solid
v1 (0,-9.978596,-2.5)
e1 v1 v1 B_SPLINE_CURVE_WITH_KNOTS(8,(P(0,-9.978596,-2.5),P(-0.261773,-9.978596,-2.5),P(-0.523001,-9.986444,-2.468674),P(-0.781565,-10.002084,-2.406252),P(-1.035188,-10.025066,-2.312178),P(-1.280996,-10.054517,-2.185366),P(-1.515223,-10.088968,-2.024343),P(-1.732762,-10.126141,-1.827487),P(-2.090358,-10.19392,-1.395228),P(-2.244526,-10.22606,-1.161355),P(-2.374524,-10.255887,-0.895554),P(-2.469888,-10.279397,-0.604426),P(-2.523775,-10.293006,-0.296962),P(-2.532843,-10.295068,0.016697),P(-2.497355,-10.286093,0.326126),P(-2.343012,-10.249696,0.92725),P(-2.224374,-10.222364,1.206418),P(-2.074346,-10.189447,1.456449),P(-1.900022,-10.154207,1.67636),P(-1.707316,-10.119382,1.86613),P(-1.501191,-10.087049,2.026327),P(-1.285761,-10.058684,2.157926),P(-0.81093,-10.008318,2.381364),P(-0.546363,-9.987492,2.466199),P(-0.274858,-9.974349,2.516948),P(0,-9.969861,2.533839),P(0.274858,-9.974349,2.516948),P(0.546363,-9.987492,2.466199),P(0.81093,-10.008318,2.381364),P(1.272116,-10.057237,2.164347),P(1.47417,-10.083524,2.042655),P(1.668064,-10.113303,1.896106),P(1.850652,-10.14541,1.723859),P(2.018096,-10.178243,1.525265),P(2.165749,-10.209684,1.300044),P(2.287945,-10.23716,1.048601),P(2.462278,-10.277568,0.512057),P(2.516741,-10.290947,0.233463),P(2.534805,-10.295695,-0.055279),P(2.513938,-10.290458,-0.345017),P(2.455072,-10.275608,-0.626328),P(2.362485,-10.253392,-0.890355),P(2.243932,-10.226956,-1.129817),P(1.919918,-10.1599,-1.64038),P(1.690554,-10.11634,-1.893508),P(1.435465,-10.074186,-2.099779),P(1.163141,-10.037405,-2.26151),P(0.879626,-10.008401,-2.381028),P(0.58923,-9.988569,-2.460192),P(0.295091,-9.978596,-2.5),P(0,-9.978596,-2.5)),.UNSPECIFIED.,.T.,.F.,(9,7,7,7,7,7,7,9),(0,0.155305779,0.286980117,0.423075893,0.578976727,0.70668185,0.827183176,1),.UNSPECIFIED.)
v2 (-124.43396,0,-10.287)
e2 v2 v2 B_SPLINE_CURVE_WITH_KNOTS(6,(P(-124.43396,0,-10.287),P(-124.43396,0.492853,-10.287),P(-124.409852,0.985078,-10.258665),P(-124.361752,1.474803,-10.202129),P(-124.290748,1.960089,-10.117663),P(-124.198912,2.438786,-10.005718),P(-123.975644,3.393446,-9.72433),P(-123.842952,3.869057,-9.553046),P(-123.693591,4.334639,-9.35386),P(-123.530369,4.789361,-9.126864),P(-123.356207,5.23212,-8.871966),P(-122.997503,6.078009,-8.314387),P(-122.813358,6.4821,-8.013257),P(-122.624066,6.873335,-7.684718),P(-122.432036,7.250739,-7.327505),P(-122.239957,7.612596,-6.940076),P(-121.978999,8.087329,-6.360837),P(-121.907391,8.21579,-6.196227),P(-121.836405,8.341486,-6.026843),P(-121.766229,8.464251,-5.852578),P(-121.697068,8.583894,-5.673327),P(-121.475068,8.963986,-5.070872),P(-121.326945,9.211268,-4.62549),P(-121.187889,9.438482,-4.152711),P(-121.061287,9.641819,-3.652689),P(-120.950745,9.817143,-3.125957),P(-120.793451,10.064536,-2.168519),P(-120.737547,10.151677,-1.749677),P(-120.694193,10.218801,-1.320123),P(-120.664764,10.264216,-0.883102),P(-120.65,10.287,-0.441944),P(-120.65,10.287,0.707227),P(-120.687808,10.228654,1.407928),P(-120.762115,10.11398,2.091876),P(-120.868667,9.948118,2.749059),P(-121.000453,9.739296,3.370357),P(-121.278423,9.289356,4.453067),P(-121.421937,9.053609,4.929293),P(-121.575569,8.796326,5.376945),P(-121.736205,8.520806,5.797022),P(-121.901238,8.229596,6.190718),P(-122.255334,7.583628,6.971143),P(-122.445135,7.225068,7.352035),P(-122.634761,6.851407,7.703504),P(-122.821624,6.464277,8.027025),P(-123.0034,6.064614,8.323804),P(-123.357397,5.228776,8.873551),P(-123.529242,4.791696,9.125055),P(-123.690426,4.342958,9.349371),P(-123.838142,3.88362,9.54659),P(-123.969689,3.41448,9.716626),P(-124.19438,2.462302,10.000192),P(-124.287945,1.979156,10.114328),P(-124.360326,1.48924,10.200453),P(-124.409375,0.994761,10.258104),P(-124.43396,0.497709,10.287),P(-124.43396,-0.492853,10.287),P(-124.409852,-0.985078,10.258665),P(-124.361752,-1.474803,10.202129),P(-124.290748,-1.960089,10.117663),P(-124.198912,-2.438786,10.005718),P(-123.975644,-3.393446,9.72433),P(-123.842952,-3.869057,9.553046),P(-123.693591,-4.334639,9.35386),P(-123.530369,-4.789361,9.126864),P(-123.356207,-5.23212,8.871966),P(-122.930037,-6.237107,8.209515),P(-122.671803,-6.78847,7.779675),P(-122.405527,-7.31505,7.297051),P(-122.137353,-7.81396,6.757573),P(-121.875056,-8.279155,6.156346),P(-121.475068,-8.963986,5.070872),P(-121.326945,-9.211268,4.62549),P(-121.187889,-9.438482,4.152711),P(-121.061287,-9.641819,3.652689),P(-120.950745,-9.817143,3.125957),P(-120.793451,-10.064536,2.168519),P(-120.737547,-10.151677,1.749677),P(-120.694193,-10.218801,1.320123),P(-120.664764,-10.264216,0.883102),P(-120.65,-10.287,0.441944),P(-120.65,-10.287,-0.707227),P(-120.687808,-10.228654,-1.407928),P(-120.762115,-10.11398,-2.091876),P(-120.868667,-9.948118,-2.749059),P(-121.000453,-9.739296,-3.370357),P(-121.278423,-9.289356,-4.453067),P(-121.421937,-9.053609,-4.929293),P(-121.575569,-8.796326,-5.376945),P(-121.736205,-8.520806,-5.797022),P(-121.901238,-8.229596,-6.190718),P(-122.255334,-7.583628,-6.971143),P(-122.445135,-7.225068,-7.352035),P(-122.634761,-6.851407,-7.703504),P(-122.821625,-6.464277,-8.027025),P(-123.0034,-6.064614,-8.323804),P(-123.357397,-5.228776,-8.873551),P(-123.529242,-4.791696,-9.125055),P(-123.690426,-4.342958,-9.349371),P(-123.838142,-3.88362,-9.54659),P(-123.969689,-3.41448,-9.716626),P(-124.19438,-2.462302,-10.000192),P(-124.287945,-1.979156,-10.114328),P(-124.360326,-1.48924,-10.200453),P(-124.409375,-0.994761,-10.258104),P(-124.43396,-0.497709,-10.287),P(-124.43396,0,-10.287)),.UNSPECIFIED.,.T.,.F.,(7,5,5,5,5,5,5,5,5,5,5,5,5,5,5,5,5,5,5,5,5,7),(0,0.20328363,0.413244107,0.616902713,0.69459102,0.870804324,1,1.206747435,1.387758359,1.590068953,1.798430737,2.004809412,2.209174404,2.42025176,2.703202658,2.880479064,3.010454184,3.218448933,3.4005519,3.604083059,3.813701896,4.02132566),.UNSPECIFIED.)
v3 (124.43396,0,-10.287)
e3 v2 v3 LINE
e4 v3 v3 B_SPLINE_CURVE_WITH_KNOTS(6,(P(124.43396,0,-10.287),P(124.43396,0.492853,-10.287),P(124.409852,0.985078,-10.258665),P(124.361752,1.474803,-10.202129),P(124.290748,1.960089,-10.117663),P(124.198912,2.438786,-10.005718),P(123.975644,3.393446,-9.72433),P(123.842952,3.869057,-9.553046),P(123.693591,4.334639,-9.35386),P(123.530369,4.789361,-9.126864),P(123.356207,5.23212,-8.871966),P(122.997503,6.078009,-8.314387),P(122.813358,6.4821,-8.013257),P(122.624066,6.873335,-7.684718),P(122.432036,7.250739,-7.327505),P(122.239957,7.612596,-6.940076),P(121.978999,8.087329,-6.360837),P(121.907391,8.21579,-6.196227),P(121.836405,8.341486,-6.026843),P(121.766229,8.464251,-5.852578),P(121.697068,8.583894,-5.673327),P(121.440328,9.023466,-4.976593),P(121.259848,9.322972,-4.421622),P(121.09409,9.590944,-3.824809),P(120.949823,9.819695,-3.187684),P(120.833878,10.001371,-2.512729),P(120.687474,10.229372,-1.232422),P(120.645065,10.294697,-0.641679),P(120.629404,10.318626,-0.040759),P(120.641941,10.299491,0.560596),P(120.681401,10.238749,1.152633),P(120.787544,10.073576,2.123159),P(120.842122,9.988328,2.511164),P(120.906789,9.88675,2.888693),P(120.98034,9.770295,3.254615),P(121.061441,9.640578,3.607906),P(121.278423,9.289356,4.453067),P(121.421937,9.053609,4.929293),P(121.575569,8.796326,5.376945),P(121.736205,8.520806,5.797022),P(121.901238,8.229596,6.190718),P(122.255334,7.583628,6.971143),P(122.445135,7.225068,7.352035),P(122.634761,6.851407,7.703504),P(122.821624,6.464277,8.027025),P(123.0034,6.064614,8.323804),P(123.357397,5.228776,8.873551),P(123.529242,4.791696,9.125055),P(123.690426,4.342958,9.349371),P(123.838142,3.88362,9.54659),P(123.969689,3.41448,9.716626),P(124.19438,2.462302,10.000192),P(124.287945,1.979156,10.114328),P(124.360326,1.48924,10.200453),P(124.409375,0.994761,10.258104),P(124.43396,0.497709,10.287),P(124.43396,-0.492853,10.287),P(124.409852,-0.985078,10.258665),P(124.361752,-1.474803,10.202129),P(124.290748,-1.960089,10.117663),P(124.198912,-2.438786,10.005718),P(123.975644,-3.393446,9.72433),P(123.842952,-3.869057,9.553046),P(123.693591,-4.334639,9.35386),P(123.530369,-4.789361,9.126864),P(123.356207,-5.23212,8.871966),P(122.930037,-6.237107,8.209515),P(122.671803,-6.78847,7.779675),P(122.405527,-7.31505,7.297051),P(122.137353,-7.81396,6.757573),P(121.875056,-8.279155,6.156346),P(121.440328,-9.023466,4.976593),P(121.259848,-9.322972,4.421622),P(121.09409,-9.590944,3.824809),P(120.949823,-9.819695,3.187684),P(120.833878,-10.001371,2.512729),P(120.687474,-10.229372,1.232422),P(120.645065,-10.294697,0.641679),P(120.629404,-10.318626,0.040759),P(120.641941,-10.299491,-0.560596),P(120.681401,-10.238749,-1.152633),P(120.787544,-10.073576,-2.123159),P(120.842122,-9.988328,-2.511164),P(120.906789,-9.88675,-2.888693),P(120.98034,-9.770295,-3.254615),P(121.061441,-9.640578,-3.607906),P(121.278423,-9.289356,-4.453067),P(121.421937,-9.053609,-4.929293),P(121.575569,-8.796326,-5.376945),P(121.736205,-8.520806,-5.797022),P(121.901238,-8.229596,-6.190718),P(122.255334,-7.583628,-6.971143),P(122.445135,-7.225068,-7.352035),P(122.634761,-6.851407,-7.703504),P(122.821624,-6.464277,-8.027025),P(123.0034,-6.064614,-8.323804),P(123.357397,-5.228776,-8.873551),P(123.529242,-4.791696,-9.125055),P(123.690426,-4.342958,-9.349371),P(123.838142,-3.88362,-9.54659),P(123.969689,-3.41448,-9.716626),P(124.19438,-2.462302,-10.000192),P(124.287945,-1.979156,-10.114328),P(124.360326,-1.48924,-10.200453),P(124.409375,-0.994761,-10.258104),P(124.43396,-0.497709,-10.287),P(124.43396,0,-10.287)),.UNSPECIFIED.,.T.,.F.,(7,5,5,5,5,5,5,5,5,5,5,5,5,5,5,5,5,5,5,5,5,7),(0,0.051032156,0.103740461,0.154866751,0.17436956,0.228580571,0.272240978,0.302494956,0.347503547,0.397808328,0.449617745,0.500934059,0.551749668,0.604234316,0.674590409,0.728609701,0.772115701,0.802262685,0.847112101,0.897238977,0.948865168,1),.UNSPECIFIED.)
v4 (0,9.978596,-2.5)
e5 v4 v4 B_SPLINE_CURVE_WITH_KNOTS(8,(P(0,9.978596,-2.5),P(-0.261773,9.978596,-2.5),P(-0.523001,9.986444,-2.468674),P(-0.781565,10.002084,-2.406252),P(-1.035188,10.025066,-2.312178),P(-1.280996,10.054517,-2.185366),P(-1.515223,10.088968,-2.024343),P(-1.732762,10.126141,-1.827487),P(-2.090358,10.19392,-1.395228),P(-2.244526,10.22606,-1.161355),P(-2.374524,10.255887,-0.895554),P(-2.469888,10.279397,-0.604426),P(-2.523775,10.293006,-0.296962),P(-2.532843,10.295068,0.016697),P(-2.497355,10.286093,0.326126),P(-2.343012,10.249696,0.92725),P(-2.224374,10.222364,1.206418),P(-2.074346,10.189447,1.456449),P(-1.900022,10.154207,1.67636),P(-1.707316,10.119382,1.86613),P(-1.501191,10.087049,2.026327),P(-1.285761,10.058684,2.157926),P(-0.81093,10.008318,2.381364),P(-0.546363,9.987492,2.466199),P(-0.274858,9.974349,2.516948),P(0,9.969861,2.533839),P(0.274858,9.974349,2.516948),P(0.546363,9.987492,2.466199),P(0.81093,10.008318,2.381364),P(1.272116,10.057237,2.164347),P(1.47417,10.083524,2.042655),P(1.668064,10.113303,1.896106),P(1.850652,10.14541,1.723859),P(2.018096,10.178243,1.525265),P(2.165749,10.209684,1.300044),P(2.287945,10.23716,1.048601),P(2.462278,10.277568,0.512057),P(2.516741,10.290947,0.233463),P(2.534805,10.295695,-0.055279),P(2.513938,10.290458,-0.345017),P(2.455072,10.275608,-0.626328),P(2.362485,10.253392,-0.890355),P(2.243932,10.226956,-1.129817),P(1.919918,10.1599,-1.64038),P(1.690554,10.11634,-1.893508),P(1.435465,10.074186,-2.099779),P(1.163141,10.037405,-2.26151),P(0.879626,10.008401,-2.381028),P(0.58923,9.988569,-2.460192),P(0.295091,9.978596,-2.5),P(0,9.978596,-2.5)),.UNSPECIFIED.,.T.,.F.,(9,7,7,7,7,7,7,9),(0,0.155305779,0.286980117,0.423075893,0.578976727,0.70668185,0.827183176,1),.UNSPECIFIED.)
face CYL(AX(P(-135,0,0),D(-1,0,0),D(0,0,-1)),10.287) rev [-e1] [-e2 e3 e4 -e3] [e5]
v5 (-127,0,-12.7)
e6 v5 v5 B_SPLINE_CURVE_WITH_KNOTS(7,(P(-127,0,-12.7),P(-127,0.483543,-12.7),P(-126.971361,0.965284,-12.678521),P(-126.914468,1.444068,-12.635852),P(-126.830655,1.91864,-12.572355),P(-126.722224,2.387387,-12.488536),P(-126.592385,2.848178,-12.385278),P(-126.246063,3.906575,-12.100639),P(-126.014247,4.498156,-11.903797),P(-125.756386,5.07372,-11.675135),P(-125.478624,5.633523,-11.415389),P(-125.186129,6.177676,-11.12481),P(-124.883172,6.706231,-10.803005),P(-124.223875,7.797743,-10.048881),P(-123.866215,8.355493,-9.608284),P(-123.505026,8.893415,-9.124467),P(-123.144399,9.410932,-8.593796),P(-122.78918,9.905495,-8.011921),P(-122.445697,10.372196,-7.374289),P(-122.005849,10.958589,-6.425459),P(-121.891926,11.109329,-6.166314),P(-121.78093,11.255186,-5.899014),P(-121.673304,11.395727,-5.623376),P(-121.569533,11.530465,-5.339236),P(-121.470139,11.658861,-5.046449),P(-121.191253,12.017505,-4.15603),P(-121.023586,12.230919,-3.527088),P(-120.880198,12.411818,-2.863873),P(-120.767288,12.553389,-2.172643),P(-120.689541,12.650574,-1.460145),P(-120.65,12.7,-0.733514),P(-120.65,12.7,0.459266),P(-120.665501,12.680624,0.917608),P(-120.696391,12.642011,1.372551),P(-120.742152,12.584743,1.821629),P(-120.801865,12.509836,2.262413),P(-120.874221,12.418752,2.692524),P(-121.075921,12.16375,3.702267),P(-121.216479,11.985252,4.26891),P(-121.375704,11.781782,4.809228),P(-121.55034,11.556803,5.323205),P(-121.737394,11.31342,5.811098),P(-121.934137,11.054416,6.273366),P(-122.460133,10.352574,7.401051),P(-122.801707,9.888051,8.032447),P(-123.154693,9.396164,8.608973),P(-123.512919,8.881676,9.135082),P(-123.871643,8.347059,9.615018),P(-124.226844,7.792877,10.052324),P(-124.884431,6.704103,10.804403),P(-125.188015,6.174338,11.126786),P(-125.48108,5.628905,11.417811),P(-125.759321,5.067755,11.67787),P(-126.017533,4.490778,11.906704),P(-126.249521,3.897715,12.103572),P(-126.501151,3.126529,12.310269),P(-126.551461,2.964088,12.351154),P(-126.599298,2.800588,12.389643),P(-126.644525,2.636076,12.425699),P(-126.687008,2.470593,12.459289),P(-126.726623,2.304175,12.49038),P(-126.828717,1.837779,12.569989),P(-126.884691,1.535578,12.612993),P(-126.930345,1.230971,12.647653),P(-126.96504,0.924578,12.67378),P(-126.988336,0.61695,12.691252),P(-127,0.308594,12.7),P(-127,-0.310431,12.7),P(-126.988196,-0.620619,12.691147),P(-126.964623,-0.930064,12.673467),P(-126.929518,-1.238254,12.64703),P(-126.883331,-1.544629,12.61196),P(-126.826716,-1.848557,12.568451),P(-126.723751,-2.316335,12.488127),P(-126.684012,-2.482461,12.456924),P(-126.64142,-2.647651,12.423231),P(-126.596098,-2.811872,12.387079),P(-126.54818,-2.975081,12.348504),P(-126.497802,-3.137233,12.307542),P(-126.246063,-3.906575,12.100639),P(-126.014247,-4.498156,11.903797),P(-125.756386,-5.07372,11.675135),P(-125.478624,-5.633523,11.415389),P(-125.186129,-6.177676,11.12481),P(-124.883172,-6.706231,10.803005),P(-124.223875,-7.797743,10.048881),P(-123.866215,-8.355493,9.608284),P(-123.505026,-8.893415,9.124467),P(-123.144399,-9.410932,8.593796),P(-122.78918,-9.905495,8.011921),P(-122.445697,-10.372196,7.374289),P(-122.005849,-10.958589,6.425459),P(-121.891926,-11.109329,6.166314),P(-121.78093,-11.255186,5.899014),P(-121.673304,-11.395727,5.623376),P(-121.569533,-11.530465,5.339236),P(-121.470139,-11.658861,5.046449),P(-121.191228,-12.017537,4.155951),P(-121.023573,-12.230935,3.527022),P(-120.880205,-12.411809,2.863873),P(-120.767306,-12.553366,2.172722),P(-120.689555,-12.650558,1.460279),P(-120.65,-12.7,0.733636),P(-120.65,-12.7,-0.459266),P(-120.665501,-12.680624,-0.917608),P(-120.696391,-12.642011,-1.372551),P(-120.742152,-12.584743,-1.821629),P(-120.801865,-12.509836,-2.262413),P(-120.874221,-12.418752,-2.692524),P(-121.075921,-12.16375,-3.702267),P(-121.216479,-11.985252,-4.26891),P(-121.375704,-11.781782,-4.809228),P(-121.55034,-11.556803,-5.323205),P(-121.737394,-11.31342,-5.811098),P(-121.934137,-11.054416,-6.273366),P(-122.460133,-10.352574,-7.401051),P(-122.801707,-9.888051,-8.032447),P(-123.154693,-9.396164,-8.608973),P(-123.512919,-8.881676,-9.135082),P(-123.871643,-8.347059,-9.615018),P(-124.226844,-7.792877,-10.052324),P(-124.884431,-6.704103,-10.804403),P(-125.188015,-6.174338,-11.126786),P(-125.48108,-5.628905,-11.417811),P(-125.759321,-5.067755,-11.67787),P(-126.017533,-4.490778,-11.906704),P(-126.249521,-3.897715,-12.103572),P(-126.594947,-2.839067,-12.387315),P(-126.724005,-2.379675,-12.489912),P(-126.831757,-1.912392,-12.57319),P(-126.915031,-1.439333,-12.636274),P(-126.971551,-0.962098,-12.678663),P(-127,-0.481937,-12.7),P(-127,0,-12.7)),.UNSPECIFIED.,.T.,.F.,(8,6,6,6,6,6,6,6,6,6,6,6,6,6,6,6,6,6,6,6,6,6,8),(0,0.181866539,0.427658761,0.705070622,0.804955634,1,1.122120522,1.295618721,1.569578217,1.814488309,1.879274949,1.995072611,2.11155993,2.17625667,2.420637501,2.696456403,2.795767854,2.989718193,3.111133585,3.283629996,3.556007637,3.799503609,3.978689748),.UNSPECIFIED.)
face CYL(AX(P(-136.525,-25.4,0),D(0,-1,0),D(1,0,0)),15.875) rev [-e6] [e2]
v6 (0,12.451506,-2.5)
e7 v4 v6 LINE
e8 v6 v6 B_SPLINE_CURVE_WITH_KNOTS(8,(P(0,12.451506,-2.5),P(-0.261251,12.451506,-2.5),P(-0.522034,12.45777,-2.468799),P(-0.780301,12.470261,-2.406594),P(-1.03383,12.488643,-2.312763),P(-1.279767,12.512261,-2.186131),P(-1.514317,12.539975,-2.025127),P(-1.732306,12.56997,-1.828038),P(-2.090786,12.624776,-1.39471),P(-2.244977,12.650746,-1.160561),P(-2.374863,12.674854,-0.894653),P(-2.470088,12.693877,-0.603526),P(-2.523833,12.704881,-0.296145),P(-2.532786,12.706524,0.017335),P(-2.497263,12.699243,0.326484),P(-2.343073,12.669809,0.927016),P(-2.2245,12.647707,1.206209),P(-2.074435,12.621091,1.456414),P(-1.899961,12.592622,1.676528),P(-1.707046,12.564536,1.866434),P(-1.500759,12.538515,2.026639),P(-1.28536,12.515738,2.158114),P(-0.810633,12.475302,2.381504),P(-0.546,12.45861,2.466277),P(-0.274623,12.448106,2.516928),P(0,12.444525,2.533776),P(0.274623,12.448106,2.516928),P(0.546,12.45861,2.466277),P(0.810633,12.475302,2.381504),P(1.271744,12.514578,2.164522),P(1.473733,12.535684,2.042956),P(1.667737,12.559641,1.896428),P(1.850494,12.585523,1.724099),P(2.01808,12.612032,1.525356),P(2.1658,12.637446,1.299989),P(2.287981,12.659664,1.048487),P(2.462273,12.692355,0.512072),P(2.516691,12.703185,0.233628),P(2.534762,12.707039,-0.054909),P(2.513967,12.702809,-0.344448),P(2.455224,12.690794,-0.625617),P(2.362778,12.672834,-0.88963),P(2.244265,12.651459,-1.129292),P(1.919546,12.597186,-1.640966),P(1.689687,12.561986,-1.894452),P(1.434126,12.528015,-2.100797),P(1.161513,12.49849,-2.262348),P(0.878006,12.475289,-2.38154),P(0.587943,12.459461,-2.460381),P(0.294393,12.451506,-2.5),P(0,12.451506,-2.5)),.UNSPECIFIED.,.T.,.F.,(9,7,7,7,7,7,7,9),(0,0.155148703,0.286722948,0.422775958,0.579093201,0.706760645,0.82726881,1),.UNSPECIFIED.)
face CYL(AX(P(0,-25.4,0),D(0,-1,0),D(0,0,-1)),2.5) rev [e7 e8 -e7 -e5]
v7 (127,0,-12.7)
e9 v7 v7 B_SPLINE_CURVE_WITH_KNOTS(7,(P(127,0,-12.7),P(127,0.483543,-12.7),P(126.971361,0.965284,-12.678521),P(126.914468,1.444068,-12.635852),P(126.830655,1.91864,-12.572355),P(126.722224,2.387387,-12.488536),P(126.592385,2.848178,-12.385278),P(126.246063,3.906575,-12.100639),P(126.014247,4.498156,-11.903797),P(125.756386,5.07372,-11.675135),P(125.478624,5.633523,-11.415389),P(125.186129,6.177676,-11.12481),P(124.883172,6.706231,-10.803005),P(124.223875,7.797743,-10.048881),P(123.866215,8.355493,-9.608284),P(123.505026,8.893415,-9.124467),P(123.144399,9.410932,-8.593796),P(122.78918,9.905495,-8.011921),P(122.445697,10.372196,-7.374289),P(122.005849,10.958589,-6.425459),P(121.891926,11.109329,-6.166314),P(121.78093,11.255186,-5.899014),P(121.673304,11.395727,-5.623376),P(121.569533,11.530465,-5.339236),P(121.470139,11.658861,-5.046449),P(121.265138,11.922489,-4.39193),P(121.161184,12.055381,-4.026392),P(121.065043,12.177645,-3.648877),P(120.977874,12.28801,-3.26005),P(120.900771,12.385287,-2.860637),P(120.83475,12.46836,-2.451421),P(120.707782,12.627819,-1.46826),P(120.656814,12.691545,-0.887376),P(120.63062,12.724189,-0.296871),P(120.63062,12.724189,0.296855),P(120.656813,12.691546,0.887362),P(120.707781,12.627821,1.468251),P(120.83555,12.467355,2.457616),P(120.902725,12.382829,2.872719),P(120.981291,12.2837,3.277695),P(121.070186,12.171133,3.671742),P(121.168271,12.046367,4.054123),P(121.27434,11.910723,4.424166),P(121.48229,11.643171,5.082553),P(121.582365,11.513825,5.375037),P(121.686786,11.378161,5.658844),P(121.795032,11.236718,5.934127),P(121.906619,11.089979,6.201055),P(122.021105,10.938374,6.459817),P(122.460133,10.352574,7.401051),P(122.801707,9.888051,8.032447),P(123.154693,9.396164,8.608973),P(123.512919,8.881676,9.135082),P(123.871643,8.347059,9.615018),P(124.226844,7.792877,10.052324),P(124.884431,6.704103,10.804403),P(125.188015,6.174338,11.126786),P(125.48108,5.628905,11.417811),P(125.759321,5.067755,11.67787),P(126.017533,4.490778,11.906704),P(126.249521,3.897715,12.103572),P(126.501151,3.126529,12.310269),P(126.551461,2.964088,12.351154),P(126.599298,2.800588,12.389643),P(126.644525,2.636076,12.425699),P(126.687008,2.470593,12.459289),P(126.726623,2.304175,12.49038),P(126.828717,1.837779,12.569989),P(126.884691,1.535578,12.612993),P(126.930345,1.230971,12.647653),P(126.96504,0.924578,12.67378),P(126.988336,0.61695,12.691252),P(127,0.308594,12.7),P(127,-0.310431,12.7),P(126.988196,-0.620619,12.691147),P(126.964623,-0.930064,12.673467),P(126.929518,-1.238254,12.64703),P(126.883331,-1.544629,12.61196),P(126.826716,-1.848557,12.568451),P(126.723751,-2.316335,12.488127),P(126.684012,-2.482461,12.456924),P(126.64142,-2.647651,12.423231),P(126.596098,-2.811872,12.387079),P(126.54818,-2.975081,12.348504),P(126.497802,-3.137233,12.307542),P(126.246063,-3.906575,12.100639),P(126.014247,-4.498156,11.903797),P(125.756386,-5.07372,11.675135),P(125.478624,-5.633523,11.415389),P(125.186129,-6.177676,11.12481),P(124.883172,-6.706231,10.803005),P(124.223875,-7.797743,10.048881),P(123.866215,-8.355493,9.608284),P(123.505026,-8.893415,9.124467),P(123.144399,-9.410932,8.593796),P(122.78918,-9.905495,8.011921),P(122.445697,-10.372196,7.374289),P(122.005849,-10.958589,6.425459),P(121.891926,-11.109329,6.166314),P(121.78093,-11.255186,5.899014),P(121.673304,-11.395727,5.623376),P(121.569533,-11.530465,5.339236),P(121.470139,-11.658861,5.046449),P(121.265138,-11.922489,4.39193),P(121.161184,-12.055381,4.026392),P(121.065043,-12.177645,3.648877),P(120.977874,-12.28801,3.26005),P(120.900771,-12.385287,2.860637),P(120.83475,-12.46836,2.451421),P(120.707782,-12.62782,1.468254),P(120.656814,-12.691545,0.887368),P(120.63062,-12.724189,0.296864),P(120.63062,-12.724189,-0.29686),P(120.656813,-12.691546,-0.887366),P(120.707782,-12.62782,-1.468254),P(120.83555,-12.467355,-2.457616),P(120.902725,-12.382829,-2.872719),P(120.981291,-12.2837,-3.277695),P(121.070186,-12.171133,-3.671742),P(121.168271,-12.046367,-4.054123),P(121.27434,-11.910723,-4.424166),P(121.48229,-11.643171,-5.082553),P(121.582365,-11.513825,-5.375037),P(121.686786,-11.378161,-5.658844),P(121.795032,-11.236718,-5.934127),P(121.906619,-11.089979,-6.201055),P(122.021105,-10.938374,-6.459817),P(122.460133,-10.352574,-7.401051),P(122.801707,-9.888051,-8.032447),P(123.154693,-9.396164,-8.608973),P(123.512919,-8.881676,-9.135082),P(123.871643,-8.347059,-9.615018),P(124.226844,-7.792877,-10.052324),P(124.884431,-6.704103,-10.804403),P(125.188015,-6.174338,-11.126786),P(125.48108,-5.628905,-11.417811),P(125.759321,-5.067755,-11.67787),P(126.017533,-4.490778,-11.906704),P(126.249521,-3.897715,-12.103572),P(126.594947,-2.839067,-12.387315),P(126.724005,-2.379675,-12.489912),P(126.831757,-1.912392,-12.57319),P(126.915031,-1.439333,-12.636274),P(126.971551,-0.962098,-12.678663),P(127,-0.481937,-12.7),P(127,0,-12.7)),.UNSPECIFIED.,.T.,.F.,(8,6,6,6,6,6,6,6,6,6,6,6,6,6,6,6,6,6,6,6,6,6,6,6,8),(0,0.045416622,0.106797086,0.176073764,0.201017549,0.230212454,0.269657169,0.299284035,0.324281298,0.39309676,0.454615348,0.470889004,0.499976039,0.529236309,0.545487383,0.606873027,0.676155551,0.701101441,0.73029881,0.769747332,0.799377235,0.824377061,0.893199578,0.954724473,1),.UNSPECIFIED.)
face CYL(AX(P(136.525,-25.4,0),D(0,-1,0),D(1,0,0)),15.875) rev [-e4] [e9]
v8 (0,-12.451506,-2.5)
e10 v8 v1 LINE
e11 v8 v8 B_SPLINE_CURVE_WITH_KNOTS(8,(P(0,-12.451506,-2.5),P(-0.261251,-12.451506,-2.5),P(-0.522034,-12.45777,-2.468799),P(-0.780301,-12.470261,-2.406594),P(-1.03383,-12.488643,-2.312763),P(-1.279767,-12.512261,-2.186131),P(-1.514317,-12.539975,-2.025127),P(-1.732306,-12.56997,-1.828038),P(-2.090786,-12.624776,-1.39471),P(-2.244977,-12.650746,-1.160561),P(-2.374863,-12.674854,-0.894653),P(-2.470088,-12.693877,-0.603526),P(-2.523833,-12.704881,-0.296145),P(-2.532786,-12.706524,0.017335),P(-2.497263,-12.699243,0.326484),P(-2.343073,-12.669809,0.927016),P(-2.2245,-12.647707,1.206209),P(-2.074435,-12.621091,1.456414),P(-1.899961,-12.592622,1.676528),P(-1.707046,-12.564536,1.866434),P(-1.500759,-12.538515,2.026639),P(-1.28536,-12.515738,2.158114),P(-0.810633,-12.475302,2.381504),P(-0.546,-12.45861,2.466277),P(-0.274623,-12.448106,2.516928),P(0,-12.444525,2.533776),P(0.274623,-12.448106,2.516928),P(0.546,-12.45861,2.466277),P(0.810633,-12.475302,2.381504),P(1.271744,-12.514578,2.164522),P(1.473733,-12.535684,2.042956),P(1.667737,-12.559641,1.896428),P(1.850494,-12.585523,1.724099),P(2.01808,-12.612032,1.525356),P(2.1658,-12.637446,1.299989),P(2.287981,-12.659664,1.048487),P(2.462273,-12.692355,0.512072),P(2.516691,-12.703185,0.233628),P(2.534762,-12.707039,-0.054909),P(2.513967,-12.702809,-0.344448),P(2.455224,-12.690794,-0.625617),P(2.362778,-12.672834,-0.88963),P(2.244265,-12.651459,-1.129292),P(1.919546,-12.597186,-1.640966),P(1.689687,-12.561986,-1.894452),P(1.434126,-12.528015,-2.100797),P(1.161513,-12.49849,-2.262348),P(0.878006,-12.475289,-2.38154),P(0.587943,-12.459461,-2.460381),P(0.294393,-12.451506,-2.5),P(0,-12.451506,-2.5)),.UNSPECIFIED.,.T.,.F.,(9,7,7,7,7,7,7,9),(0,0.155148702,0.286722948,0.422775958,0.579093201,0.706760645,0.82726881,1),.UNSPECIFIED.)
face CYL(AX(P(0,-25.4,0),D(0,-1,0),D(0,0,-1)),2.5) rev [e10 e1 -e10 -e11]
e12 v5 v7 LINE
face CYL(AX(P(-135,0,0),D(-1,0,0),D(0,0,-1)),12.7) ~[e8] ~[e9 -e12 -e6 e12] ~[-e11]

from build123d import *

# Parameters (mm, degrees)
BOSS_EXTRUDE1_DEPTH      = 135
BOSS_EXTRUDE1_DEPTH_BACK = 135
SKETCH1_R                = 12.7
SKETCH1_R_2              = 10.287
CUT_EXTRUDE1_DEPTH       = 25.4
CUT_EXTRUDE1_DEPTH_BACK  = 25.4
SKETCH2_R                = 15.875
SKETCH2_R_2              = 2.5


with BuildPart() as part:
    # Sketch1 → Boss-Extrude1 (new, two sides: drawn at the far end of the back side and taken through both)
    with BuildSketch(Plane(origin=(0, 0, 0), x_dir=(0, 0, -1), z_dir=(1, 0, 0)).offset(-BOSS_EXTRUDE1_DEPTH_BACK)):
        Circle(SKETCH1_R)
        Circle(SKETCH1_R_2, mode=Mode.SUBTRACT)
    extrude(amount=BOSS_EXTRUDE1_DEPTH + BOSS_EXTRUDE1_DEPTH_BACK)

    # Sketch2 → Cut-Extrude1 (cut, two sides: drawn at the far end of the back side and taken through both)
    with BuildSketch(Plane(origin=(0, 0, 0), x_dir=(1, 0, 0), z_dir=(0, 1, 0)).offset(-CUT_EXTRUDE1_DEPTH_BACK)):
        with Locations((-136.525, 0)):
            Circle(SKETCH2_R)
        with Locations((136.525, 0)):
            Circle(SKETCH2_R)
        Circle(SKETCH2_R_2)
    extrude(amount=CUT_EXTRUDE1_DEPTH + CUT_EXTRUDE1_DEPTH_BACK, mode=Mode.SUBTRACT)


solid = part.part
